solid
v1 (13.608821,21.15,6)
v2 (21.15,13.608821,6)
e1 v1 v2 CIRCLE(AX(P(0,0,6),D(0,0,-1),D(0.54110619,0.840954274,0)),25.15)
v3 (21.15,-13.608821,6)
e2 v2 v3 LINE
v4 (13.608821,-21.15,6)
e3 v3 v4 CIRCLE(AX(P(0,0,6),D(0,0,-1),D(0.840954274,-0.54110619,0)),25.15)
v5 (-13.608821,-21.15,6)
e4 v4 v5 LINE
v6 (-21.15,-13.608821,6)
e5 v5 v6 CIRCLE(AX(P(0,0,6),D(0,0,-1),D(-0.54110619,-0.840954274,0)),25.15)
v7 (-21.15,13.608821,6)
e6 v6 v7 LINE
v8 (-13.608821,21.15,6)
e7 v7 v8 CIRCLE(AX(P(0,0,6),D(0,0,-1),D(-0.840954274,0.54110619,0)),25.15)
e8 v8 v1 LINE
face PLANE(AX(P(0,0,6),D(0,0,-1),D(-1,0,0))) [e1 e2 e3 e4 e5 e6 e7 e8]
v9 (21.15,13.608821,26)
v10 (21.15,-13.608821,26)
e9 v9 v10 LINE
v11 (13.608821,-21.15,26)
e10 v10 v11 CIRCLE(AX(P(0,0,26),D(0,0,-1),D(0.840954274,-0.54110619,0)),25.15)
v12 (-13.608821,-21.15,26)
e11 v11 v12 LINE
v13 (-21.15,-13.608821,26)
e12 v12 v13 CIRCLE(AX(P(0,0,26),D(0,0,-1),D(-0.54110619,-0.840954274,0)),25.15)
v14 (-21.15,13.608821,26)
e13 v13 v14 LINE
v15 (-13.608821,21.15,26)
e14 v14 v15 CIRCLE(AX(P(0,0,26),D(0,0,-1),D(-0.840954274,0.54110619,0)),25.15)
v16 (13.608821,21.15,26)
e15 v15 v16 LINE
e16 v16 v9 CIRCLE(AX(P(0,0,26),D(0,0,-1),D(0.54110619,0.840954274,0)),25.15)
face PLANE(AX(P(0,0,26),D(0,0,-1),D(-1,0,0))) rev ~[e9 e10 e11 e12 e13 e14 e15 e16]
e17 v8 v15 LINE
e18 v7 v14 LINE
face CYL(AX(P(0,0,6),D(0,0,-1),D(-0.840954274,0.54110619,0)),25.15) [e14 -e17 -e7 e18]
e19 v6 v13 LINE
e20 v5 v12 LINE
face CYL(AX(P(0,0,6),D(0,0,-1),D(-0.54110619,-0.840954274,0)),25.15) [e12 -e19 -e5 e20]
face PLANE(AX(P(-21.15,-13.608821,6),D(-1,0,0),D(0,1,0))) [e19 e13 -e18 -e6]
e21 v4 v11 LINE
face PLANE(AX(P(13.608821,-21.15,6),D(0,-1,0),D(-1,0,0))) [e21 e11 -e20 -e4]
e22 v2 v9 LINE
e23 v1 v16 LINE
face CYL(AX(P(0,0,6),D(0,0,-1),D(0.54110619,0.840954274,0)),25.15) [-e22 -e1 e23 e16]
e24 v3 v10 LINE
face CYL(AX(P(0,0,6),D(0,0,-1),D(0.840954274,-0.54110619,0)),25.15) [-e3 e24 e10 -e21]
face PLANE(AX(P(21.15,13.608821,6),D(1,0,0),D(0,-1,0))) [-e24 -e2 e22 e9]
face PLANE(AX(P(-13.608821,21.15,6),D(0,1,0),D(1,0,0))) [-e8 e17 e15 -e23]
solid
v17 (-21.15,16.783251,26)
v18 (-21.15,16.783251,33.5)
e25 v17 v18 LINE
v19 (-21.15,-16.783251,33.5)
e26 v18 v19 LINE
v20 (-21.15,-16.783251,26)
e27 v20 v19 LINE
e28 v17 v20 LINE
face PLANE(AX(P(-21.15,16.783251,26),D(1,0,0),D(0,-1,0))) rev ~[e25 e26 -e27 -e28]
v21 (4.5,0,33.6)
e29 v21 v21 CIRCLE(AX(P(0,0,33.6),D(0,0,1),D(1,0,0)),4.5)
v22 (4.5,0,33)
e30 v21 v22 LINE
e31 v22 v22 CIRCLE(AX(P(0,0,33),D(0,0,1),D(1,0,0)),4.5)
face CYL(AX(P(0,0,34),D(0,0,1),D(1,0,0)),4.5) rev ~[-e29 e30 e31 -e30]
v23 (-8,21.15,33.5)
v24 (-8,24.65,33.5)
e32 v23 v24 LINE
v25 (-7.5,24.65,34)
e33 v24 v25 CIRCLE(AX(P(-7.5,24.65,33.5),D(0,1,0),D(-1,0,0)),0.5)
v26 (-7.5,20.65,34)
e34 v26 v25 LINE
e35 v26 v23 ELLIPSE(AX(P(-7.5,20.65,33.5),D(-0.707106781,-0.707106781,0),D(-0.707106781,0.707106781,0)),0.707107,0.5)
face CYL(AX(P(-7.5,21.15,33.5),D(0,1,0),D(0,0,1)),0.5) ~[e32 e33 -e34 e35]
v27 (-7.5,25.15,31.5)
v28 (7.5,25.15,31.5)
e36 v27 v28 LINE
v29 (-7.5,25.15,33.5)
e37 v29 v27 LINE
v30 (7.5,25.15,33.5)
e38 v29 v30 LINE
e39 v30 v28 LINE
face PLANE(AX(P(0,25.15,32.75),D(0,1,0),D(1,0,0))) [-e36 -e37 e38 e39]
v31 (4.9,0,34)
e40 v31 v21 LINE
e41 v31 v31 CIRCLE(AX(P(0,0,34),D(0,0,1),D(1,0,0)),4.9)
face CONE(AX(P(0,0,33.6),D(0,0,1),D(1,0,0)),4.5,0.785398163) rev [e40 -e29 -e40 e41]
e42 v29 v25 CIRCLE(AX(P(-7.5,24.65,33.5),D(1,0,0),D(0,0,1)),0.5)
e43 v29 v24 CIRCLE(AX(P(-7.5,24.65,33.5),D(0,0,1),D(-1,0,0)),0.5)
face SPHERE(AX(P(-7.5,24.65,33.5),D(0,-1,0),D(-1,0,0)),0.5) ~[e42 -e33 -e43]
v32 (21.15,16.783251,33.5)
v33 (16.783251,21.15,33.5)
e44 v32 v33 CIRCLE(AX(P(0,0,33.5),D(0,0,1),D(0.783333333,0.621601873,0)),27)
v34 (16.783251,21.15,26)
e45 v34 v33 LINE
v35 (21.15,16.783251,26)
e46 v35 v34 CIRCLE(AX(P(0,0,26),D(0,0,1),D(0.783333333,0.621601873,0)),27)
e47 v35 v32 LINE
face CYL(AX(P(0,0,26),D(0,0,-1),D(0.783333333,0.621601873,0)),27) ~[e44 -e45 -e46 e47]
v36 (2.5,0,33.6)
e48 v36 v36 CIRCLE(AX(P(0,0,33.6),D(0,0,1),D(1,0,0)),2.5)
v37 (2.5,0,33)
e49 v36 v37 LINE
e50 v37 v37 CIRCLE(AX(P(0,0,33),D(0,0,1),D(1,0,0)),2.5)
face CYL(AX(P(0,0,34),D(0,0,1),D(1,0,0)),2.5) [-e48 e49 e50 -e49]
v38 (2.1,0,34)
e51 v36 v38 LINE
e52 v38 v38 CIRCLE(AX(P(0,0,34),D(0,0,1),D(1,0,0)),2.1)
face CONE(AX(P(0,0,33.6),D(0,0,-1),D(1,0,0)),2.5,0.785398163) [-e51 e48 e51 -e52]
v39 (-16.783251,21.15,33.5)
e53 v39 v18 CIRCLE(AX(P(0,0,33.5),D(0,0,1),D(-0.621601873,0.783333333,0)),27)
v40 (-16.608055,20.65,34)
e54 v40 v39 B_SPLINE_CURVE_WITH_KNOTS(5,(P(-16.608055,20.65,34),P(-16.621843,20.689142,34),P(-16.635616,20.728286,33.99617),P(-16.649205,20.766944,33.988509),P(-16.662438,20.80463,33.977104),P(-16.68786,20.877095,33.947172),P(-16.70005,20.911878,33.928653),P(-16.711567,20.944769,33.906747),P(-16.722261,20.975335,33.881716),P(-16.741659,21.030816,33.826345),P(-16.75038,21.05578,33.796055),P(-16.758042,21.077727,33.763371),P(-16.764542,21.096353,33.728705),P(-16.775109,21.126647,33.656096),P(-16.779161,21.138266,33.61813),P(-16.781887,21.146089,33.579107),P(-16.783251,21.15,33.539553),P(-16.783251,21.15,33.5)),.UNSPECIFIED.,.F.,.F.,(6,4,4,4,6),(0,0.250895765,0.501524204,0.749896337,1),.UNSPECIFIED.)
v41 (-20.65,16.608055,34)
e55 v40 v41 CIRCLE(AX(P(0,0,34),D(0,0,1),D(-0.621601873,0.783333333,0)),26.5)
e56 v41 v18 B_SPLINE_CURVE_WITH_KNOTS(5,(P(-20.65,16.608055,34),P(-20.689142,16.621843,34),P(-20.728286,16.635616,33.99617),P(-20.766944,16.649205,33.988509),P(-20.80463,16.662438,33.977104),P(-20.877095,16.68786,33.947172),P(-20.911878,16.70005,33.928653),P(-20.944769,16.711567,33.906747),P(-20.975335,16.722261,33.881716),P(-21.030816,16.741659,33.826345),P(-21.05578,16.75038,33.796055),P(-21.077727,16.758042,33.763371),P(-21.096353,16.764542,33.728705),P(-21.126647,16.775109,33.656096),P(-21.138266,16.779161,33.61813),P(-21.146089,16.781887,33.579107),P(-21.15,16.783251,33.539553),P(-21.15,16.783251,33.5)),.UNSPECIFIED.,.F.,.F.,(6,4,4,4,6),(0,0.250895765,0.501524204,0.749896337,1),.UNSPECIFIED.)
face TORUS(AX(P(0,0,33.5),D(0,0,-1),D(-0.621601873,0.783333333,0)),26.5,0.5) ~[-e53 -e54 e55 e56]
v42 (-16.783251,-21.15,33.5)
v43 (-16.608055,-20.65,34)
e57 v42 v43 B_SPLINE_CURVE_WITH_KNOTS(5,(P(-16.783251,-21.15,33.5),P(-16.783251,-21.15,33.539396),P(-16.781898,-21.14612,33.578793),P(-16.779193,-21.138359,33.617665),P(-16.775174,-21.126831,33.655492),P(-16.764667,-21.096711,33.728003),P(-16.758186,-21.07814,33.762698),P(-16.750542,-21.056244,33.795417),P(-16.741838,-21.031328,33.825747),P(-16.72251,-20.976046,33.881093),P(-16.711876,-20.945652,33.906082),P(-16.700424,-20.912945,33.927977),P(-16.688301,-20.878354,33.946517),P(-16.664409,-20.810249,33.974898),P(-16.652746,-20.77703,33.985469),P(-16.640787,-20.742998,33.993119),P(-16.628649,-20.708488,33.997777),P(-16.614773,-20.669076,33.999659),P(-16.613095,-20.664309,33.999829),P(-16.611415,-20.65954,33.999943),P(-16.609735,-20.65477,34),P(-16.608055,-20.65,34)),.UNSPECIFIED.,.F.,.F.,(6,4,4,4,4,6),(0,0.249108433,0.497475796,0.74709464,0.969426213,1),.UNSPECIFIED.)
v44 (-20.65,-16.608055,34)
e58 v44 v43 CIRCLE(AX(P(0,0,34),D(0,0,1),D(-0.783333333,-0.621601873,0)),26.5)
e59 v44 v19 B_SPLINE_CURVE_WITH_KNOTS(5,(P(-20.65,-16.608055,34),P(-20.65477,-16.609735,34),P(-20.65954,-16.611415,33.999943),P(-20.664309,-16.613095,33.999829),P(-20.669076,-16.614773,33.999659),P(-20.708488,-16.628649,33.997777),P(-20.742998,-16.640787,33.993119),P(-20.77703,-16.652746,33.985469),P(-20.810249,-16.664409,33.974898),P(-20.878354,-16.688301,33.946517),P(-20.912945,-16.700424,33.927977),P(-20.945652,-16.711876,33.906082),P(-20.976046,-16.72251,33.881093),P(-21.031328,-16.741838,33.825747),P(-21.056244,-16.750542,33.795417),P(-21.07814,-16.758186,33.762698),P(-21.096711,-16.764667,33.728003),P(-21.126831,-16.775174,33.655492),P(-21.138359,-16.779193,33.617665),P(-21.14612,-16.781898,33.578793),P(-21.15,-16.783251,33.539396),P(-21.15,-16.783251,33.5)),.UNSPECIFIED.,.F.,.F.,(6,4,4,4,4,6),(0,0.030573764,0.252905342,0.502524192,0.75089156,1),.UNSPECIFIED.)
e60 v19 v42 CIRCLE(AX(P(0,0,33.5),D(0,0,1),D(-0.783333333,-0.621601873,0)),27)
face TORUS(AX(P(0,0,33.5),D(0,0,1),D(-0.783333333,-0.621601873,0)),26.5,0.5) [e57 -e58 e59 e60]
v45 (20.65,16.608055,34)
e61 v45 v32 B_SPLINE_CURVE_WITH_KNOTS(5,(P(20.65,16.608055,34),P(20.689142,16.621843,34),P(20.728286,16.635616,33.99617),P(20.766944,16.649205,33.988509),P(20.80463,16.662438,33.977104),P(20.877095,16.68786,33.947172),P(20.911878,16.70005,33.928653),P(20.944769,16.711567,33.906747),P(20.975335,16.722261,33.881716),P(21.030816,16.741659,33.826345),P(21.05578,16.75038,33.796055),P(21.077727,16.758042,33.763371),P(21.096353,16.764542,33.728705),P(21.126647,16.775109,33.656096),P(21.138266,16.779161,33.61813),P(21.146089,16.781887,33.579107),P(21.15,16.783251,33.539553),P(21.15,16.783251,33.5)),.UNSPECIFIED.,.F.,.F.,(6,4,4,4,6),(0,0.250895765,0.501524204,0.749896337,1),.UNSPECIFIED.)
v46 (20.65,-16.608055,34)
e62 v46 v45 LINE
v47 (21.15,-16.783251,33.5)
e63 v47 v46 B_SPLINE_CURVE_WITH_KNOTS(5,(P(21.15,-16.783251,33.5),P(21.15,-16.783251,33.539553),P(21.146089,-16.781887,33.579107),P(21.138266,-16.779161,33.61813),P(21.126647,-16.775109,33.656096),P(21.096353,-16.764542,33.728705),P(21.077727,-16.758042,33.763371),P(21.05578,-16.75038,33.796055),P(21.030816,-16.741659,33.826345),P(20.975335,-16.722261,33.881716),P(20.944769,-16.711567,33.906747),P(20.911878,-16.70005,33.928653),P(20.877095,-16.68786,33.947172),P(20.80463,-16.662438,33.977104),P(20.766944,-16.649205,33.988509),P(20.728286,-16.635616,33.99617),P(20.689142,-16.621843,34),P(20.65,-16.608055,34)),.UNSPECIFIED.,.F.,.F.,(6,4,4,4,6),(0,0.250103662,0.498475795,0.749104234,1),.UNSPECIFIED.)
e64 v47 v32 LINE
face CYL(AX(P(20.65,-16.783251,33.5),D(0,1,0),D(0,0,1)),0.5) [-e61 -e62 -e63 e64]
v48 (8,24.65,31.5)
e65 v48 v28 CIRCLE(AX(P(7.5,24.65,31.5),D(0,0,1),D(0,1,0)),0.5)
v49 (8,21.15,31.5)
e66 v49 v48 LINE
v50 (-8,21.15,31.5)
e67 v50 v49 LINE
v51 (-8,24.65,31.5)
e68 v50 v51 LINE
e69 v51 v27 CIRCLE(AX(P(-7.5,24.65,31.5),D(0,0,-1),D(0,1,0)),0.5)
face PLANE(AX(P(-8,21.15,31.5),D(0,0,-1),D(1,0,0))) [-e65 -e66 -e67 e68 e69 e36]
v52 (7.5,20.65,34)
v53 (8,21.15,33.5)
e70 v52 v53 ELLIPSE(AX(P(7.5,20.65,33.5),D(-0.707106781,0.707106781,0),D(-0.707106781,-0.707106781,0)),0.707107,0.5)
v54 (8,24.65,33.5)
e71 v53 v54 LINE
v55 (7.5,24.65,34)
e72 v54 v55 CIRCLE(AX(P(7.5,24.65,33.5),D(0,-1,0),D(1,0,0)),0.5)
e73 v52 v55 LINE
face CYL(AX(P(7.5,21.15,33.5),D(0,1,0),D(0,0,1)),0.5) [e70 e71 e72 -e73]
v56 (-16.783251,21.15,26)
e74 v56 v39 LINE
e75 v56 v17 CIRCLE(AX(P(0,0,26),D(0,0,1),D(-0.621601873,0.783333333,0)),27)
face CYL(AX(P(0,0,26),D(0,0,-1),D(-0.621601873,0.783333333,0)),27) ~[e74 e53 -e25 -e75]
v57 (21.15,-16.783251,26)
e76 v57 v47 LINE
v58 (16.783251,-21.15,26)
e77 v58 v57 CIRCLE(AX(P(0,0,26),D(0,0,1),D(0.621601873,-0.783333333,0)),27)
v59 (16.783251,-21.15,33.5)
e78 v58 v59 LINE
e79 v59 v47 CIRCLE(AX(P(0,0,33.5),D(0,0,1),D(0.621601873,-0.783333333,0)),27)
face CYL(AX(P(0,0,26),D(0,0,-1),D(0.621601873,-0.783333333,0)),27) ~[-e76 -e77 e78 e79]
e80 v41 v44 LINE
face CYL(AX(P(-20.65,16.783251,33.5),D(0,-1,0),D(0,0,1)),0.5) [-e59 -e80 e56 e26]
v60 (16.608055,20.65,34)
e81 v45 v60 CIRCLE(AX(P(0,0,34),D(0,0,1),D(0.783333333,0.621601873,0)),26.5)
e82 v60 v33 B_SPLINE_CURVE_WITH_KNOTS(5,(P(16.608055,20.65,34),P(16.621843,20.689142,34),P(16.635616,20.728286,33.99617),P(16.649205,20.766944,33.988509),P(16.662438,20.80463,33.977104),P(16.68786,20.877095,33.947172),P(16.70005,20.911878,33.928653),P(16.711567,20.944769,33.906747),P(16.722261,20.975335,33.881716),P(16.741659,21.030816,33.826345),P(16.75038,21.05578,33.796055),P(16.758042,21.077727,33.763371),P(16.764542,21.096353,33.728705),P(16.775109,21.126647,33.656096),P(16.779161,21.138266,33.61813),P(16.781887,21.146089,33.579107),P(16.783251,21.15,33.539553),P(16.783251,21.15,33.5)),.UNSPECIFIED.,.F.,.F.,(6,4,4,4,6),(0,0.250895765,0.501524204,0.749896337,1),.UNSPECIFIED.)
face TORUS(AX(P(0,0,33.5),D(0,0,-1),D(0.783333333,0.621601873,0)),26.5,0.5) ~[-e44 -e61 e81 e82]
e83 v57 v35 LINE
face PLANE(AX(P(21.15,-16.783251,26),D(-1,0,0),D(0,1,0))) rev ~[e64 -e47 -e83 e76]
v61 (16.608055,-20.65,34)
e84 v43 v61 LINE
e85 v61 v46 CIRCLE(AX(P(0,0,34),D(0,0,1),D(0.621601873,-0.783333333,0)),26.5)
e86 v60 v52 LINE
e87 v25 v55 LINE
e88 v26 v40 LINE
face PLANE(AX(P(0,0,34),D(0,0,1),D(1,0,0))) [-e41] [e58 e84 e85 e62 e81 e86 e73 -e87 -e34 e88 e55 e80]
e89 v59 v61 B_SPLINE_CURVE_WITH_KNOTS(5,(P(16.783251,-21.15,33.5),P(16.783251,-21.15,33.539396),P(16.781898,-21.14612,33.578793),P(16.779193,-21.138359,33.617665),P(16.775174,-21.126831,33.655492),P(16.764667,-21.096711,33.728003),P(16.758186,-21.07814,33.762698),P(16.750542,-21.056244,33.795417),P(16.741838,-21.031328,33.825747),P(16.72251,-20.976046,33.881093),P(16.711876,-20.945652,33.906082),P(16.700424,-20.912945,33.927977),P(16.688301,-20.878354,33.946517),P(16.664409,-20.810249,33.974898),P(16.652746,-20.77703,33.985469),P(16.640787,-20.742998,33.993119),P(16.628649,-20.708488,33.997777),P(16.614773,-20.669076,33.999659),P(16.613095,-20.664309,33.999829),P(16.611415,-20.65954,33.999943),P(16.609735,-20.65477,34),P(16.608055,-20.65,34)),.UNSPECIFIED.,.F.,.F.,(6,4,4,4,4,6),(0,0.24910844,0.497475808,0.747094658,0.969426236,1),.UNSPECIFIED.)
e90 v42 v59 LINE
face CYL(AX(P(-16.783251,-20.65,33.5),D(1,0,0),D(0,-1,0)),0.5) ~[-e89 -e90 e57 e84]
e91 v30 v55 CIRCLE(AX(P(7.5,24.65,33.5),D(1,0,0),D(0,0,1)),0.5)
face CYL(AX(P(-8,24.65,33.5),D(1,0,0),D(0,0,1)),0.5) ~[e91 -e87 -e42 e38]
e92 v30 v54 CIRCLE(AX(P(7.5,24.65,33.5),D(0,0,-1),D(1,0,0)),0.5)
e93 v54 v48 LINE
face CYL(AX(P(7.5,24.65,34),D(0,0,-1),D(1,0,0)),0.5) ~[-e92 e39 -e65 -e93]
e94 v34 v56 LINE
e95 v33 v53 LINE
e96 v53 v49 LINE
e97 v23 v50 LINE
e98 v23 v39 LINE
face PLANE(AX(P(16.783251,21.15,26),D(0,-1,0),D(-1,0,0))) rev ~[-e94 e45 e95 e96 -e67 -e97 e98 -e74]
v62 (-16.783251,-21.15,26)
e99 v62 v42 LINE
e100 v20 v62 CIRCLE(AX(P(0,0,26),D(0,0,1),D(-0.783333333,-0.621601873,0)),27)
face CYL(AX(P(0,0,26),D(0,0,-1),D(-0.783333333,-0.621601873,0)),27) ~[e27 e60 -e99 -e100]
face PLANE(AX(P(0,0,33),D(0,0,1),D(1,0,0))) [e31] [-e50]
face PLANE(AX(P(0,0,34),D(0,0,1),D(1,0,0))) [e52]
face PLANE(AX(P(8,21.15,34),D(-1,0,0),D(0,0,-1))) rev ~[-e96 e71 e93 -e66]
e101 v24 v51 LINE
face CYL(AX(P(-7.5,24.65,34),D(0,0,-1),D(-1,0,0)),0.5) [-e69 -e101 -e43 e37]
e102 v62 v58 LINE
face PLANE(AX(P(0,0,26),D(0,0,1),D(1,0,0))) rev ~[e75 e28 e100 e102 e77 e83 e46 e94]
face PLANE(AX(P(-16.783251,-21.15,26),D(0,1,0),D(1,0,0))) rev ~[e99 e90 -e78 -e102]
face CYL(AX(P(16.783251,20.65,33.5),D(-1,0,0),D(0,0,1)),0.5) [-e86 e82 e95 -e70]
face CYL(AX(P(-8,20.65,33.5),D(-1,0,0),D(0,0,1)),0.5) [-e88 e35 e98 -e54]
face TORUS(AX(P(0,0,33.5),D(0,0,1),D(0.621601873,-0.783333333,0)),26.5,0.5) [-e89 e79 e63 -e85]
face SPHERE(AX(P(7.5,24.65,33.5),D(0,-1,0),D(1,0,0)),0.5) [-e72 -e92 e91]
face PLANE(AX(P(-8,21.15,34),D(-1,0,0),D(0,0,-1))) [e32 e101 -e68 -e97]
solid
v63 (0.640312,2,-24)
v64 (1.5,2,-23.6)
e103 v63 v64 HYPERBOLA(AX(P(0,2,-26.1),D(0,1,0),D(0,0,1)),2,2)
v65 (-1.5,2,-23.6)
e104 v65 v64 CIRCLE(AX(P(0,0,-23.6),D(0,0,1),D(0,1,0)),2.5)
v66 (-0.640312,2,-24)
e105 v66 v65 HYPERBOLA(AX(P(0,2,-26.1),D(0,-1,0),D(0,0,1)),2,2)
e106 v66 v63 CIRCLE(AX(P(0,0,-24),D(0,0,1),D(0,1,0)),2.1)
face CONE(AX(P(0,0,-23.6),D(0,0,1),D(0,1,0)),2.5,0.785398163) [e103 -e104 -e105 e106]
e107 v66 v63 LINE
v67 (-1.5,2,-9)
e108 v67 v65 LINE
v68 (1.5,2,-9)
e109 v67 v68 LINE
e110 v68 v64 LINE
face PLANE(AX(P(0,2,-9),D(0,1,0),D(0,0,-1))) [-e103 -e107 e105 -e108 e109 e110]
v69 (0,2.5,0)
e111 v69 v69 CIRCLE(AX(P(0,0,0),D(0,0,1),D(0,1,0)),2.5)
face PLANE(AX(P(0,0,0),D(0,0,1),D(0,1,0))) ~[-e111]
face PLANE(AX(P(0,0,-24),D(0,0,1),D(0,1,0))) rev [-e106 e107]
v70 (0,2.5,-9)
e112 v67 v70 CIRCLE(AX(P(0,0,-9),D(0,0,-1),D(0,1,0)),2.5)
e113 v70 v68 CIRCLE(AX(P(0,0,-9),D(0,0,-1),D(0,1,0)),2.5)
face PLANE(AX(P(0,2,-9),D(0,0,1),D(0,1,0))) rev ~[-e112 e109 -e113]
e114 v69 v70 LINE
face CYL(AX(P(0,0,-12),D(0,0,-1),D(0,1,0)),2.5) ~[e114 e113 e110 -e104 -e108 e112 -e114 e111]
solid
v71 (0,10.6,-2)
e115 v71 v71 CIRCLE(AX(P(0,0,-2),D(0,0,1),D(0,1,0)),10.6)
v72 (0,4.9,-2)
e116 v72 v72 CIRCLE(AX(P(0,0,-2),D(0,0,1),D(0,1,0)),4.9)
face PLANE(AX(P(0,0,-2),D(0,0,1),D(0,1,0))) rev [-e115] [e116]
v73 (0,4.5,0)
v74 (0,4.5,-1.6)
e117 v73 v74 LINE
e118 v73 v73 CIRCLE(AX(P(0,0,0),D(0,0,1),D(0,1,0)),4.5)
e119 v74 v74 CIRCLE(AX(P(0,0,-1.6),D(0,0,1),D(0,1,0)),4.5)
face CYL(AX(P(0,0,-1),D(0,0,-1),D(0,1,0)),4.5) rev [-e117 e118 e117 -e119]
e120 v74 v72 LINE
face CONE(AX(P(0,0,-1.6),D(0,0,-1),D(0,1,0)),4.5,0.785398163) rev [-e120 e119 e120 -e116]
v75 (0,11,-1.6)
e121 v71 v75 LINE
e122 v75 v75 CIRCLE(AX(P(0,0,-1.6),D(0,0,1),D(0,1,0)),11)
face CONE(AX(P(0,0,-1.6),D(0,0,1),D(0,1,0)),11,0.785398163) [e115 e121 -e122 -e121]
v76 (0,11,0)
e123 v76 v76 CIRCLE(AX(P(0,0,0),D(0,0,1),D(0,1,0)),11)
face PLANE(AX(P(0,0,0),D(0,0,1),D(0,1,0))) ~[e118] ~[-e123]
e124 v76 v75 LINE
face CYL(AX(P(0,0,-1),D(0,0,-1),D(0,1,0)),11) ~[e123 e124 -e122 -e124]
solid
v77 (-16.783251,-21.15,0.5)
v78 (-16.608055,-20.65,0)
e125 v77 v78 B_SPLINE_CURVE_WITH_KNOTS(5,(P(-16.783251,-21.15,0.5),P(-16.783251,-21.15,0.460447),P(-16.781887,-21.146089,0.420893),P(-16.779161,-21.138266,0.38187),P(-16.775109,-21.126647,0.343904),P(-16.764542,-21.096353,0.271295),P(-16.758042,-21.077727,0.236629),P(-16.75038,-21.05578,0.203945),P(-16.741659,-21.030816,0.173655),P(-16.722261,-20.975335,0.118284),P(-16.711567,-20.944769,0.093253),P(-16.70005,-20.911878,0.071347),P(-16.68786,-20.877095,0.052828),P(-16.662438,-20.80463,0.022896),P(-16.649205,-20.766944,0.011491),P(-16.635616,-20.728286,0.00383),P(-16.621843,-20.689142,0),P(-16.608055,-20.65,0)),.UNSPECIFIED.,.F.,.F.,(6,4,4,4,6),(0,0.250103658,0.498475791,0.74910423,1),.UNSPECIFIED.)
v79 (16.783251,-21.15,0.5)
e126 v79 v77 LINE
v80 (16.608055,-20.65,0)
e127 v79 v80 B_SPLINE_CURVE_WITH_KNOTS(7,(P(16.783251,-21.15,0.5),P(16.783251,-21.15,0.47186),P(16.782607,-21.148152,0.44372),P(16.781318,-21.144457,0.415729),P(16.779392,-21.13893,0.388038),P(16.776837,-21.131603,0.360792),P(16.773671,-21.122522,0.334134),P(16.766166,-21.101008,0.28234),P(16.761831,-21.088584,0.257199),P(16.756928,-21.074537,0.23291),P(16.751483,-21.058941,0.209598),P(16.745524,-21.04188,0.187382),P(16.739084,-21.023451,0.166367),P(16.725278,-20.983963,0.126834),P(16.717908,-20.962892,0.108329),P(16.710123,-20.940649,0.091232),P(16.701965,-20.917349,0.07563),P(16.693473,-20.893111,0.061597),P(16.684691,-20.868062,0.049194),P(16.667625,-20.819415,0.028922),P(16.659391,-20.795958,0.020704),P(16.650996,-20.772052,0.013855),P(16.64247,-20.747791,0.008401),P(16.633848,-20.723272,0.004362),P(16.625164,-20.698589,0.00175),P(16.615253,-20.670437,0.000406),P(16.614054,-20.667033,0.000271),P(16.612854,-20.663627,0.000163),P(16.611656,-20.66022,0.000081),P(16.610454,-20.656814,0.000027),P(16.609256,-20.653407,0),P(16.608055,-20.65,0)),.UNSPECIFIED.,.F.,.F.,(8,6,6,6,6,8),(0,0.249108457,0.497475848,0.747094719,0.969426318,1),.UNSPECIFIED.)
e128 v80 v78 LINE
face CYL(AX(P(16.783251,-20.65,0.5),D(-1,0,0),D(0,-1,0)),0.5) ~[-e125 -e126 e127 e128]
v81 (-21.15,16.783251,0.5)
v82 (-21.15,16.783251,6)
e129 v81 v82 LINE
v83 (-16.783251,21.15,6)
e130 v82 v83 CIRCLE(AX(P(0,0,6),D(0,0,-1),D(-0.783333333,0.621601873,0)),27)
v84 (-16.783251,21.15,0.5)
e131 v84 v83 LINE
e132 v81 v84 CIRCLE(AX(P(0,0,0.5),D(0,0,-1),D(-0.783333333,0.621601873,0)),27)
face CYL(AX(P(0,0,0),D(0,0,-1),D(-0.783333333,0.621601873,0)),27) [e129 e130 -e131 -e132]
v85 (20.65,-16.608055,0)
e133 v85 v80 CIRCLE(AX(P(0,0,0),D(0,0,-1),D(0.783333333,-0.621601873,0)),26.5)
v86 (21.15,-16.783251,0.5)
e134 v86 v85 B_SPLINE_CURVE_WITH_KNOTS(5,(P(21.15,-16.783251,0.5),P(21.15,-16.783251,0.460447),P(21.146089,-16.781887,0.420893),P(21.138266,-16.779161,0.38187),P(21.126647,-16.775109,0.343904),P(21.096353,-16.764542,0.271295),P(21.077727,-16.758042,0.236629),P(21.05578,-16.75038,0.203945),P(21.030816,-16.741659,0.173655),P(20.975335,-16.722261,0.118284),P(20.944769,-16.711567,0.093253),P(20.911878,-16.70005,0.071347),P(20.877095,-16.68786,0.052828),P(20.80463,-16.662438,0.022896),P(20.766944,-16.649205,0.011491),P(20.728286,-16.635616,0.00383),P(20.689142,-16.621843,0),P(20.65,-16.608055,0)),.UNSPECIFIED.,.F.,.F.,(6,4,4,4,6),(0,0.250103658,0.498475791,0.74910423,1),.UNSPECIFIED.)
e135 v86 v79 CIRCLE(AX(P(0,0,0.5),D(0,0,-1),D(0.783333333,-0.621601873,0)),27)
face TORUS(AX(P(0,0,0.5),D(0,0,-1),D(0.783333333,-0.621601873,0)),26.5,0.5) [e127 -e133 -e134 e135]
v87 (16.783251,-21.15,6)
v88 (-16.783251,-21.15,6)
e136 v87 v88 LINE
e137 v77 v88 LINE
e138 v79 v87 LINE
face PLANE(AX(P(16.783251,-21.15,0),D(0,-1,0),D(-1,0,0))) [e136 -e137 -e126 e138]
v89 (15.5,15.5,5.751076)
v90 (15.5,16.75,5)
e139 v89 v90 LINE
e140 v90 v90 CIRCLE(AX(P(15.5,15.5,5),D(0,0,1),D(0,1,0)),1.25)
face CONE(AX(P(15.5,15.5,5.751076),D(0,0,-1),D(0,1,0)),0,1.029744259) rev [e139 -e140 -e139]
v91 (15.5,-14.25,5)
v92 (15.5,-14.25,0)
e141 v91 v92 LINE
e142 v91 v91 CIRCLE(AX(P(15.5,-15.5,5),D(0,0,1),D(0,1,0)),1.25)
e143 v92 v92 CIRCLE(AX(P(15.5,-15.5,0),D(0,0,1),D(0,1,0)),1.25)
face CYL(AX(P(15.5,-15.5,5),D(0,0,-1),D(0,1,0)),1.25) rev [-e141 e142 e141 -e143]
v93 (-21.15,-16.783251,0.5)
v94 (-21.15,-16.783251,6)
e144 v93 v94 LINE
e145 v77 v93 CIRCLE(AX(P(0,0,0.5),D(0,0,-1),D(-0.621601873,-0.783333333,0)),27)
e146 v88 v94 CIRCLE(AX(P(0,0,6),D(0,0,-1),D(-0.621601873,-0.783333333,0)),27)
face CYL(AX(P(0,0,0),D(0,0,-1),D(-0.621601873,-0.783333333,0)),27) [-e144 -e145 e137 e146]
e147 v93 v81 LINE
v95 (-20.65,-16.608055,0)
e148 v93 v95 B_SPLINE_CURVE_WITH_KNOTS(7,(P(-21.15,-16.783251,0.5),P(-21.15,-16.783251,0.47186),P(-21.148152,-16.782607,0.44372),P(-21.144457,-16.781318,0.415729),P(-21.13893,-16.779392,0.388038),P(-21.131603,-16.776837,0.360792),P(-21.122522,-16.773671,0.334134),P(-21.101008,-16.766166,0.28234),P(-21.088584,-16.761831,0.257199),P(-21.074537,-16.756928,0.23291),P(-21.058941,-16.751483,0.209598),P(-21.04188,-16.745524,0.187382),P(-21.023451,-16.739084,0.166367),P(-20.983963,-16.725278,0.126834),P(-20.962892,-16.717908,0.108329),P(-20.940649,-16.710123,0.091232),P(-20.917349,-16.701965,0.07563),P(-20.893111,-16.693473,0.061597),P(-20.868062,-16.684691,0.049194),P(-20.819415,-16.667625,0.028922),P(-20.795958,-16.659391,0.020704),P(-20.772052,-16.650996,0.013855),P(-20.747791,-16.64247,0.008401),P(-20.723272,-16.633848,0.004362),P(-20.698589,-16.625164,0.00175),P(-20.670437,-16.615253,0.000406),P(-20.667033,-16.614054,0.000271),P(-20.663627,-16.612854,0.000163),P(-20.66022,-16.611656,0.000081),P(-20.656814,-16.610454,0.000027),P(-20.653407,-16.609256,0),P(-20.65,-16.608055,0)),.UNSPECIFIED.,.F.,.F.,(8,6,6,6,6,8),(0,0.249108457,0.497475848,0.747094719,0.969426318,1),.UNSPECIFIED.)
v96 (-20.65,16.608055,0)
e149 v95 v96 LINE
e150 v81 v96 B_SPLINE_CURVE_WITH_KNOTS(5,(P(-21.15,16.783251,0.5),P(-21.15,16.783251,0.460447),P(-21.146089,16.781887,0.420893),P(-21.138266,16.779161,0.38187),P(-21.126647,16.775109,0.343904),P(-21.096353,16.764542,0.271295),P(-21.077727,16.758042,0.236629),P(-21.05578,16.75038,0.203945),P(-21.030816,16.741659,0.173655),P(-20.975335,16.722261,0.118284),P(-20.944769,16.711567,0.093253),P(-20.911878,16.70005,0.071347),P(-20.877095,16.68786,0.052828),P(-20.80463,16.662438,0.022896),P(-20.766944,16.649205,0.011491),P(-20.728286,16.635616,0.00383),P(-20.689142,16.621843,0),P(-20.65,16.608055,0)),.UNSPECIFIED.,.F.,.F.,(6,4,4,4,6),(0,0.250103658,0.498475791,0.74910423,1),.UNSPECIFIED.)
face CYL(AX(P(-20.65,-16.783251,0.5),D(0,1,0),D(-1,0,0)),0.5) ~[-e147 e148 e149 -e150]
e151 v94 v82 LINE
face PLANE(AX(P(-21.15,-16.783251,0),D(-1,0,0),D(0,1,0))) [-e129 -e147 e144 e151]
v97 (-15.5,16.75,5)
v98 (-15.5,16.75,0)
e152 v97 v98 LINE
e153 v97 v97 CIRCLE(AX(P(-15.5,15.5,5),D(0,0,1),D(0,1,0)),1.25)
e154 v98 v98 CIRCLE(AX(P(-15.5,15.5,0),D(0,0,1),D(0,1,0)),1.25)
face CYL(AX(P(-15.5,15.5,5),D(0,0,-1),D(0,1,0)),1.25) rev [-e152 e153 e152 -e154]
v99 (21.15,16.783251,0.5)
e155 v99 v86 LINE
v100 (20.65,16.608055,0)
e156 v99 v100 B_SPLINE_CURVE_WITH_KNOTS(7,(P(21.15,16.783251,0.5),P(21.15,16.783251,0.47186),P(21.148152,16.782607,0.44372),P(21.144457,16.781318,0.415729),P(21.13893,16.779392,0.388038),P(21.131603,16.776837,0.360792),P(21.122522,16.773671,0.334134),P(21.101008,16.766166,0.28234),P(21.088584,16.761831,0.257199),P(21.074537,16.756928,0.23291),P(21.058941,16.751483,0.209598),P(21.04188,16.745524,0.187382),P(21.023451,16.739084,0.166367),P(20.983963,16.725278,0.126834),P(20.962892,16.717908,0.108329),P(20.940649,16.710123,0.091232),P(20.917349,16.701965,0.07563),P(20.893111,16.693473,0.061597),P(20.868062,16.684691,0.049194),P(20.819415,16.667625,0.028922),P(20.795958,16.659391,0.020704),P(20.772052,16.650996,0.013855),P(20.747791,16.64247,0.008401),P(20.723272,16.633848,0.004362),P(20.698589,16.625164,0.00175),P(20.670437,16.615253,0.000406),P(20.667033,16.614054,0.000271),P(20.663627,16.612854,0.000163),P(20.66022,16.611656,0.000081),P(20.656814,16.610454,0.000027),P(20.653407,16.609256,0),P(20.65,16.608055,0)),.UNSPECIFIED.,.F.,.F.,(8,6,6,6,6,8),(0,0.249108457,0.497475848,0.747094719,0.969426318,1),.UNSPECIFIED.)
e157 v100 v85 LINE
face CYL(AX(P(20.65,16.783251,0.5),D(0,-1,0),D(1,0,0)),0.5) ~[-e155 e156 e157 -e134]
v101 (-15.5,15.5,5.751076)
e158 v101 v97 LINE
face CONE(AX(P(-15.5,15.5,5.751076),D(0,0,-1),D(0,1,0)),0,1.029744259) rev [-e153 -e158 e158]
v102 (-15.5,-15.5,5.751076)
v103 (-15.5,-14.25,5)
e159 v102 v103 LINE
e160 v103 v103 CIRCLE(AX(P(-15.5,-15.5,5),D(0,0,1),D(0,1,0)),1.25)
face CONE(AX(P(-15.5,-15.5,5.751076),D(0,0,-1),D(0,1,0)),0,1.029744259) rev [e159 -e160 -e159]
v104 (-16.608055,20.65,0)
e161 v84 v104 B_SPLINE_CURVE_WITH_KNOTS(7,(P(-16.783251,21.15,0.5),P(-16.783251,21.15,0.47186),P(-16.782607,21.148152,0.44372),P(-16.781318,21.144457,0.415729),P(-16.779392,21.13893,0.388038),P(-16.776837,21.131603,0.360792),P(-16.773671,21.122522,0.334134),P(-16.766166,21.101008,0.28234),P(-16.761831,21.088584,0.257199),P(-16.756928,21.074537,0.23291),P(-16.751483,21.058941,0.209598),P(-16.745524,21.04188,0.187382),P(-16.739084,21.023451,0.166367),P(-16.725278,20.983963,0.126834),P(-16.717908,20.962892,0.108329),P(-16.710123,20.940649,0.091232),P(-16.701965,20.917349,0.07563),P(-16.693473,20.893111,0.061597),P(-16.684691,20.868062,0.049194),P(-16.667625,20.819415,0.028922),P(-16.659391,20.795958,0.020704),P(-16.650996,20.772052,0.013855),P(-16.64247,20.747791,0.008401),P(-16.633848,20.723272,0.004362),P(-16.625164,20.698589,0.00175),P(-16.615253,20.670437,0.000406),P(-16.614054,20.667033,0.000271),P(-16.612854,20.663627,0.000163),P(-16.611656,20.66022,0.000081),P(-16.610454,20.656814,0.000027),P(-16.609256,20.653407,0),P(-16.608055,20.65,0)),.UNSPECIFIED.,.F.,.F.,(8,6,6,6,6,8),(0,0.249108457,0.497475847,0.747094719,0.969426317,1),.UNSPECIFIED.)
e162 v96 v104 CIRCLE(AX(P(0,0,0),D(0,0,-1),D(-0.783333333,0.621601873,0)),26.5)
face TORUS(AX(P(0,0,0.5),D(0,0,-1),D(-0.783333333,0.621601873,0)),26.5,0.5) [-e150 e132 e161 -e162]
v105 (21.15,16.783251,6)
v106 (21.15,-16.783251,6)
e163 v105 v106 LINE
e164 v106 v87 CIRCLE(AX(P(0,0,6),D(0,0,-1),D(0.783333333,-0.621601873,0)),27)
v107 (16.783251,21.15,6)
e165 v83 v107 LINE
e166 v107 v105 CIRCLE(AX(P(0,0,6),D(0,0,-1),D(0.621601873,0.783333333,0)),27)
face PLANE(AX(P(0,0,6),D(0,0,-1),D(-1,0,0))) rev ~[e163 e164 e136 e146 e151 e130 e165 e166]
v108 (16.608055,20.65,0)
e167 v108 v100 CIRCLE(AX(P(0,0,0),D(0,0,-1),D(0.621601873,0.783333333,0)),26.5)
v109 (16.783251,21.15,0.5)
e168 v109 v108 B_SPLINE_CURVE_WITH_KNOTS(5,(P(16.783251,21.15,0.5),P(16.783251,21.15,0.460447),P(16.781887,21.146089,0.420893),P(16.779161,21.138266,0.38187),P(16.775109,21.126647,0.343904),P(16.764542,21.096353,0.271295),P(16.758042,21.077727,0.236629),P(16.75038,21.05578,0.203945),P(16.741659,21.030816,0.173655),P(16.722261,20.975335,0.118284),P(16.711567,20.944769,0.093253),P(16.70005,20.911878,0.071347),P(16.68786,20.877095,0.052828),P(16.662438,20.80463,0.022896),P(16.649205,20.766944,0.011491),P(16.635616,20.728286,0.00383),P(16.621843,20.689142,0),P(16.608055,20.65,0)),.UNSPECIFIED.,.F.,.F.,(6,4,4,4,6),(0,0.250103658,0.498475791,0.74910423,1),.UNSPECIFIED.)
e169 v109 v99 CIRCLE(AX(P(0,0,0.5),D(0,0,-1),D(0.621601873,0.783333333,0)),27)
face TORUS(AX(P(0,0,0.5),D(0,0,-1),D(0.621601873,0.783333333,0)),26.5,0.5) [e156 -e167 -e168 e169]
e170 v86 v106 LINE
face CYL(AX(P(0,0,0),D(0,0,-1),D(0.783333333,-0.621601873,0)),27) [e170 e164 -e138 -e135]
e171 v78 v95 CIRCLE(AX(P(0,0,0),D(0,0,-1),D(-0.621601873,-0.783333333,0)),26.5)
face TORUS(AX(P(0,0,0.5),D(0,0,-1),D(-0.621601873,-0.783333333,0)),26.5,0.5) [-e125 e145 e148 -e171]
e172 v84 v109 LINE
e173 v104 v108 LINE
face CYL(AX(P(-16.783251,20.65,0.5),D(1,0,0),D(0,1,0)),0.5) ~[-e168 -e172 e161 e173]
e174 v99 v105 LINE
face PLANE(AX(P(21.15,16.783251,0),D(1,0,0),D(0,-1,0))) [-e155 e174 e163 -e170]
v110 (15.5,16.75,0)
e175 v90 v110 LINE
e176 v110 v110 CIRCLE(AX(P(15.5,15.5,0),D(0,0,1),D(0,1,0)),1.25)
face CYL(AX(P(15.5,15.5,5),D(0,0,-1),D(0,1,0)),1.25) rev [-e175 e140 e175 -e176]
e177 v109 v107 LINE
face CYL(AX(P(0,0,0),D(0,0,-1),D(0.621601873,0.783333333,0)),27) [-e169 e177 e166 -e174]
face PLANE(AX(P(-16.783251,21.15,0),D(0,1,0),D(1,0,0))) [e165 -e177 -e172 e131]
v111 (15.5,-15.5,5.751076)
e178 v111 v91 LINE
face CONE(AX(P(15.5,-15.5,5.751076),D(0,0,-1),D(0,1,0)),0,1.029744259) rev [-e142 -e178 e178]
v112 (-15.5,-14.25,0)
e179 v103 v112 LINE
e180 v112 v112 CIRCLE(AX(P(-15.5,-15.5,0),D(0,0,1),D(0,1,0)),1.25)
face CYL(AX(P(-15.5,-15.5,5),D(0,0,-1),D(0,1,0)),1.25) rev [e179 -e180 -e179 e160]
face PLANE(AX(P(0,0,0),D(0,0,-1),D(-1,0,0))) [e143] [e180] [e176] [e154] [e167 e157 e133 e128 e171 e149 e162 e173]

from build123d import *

# Parameters (mm, degrees)
BOSS_EXTRU_1_DEPTH           = 6
BOSS_EXTRU_2_DEPTH           = 20
BOSS_EXTRU_3_DEPTH           = 8
ESQUISSE4_W                  = 16
ESQUISSE4_H                  = 2.5
BOSS_EXTRU_4_DEPTH           = 4
ESQUISSE5_W                  = 2
ESQUISSE5_H                  = 6.5
ESQUISSE5_W_2                = 24
ESQUISSE5_H_2                = 2.5
CONG_1_R                     = 0.5
CONG_2_R                     = 0.5
CHANFREIN1_SIZE              = 0.4
CHANFREIN2_SIZE              = 0.4
ESQUISSE6_W                  = 15
ESQUISSE6_H                  = 0.5
ENL_V_MAT_EXTRU_1_DEPTH      = 22.1500001
ENL_V_MAT_EXTRU_1_DEPTH_BACK = 22.1500001
ESQUISSE7_R                  = 4.5
ESQUISSE7_R_2                = 2.5
ENL_V_MAT_EXTRU_2_DEPTH      = 1
CHANFREIN3_SIZE              = 0.4
TROU_TARAUD_M31_AT_2_COUNT   = 2
TROU_TARAUD_M31_AT_2_PITCH   = 31
TROU_TARAUD_M31_AT_3_COUNT   = 2
TROU_TARAUD_M31_AT_3_PITCH   = 43.840620434
TROU_TARAUD_M31_AT_4_COUNT   = 2
TROU_TARAUD_M31_AT_4_PITCH   = 31


with BuildPart() as part:
    # Esquisse1 → Boss.-Extru.1 (new body)
    with BuildSketch(Plane.XY):
        with BuildLine():
            Line((21.15, 16.783250579), (21.15, -16.783250579))
            ThreePointArc((21.15, -16.783250579), (19.091883092, -19.091883092), (16.783250579, -21.15))
            Line((16.783250579, -21.15), (-16.783250579, -21.15))
            ThreePointArc((-16.783250579, -21.15), (-19.091883092, -19.091883092), (-21.15, -16.783250579))
            Line((-21.15, -16.783250579), (-21.15, 16.783250579))
            ThreePointArc((-21.15, 16.783250579), (-19.091883092, 19.091883092), (-16.783250579, 21.15))
            Line((-16.783250579, 21.15), (16.783250579, 21.15))
            ThreePointArc((16.783250579, 21.15), (19.091883092, 19.091883092), (21.15, 16.783250579))
        make_face()
    extrude(amount=BOSS_EXTRU_1_DEPTH)

    # Congé2
    cong_2_edges = [part.edges().sort_by_distance(p)[0] for p in [
        (0, 21.15, 0),
        (19.091883092, 19.091883092, 0),
        (21.15, 0, 0),
        (19.091883092, -19.091883092, 0),
        (0, -21.15, 0),
        (-19.091883092, -19.091883092, 0),
        (-21.15, 0, 0),
        (-19.091883092, 19.091883092, 0),
    ]]
    fillet(cong_2_edges, radius=CONG_2_R)

    # Esquisse9 → Trou taraudé M31 (revolve, cut)
    with BuildSketch(Plane(origin=(15.5, -15.5, 0), x_dir=(0, 1, 0), z_dir=(1, 0, 0))):
        Polygon((0, 0), (0, 5.751075774), (1.25, 5), (1.25, 0), align=None)
    trou_taraud_m31 = revolve(axis=Axis((15.5, -15.5, -6.35), (0, 0, 1)), mode=Mode.SUBTRACT)

    # Trou taraudé M31 at 2: Trou taraudé M31 ×2
    with Locations(*[(0, i * TROU_TARAUD_M31_AT_2_PITCH, 0) for i in range(1, TROU_TARAUD_M31_AT_2_COUNT)]):
        add(trou_taraud_m31, mode=Mode.SUBTRACT)

    # Trou taraudé M31 at 3: Trou taraudé M31 ×2
    with Locations(*[Vector(-0.707106781, 0.707106781, 0) * (i * TROU_TARAUD_M31_AT_3_PITCH) for i in range(1, TROU_TARAUD_M31_AT_3_COUNT)]):
        add(trou_taraud_m31, mode=Mode.SUBTRACT)

    # Trou taraudé M31 at 4: Trou taraudé M31 ×2
    with Locations(*[(-i * TROU_TARAUD_M31_AT_4_PITCH, 0, 0) for i in range(1, TROU_TARAUD_M31_AT_4_COUNT)]):
        add(trou_taraud_m31, mode=Mode.SUBTRACT)


with BuildPart() as body_2:
    # Esquisse2 → Boss.-Extru.2 (new body)
    with BuildSketch(Plane.XY.offset(6)):
        with BuildLine():
            Line((-13.608820669, 21.15), (13.608820669, 21.15))
            ThreePointArc((13.608820669, 21.15), (17.783735547, 17.783735547), (21.15, 13.608820669))
            Line((21.15, 13.608820669), (21.15, -13.608820669))
            ThreePointArc((21.15, -13.608820669), (17.783735547, -17.783735547), (13.608820669, -21.15))
            Line((13.608820669, -21.15), (-13.608820669, -21.15))
            ThreePointArc((-13.608820669, -21.15), (-17.783735547, -17.783735547), (-21.15, -13.608820669))
            Line((-21.15, -13.608820669), (-21.15, 13.608820669))
            ThreePointArc((-21.15, 13.608820669), (-17.783735547, 17.783735547), (-13.608820669, 21.15))
        make_face()
    extrude(amount=BOSS_EXTRU_2_DEPTH)


with BuildPart() as body_3:
    # Esquisse3 → Boss.-Extru.3 (new body)
    with BuildSketch(Plane.XY.offset(26)):
        with BuildLine():
            Line((-16.783250579, -21.15), (16.783250579, -21.15))
            ThreePointArc((16.783250579, -21.15), (19.091883092, -19.091883092), (21.15, -16.783250579))
            Line((21.15, -16.783250579), (21.15, 16.783250579))
            ThreePointArc((21.15, 16.783250579), (19.091883092, 19.091883092), (16.783250579, 21.15))
            Line((16.783250579, 21.15), (-16.783250579, 21.15))
            ThreePointArc((-16.783250579, 21.15), (-19.091883092, 19.091883092), (-21.15, 16.783250579))
            Line((-21.15, 16.783250579), (-21.15, -16.783250579))
            ThreePointArc((-21.15, -16.783250579), (-19.091883092, -19.091883092), (-16.783250579, -21.15))
        make_face()
    extrude(amount=BOSS_EXTRU_3_DEPTH)

    # Esquisse4 → Boss.-Extru.4 (add)
    with BuildSketch(Plane(origin=(0, 21.15, 0), x_dir=(1, 0, 0), z_dir=(0, 1, 0))):
        with Locations((0, -32.75)):
            Rectangle(ESQUISSE4_W, ESQUISSE4_H)
    extrude(amount=BOSS_EXTRU_4_DEPTH)

    # Congé1
    cong_1_edges = [body_3.edges().sort_by_distance(p)[0] for p in [
        (19.091883092, -19.091883092, 34),
        (21.15, 0, 34),
        (19.091883092, 19.091883092, 34),
        (12.39162529, 21.15, 34),
        (-19.091883092, 19.091883092, 34),
        (-12.39162529, 21.15, 34),
        (-21.15, 0, 34),
        (8, 23.15, 34),
        (-8, 23.15, 34),
        (8, 25.15, 32.75),
        (-8, 25.15, 32.75),
        (0, 25.15, 34),
        (-19.091883092, -19.091883092, 34),
        (0, -21.15, 34),
    ]]
    fillet(cong_1_edges, radius=CONG_1_R)

    # Esquisse7 → Enlèv. mat.-Extru.2 (cut)
    with BuildSketch(Plane.XY.offset(34)):
        Circle(ESQUISSE7_R)
        Circle(ESQUISSE7_R_2, mode=Mode.SUBTRACT)
    extrude(amount=-ENL_V_MAT_EXTRU_2_DEPTH, mode=Mode.SUBTRACT)

    # Chanfrein3
    chanfrein3_edges = [body_3.edges().sort_by_distance(p)[0] for p in [
        (-4.5, 0, 34),
        (-2.5, 0, 34),
    ]]
    chamfer(chanfrein3_edges, length=CHANFREIN3_SIZE)


with BuildPart() as body_4:
    # Esquisse5 → Révolution1 (revolve)
    with BuildSketch(Plane(origin=(0, 0, 0), x_dir=(0, 0, -1), z_dir=(1, 0, 0))):
        with Locations((1, 7.75)):
            Rectangle(ESQUISSE5_W, ESQUISSE5_H)
        with Locations((12, 1.25)):
            Rectangle(ESQUISSE5_W_2, ESQUISSE5_H_2)
    revolve(axis=Axis((0, 0, 0), (0, 0, 1)))

    # Chanfrein1
    chanfrein1_edges = [body_4.edges().sort_by_distance(p)[0] for p in [
        (0, -2.5, -24),
    ]]
    chamfer(chanfrein1_edges, length=CHANFREIN1_SIZE)

    # Chanfrein2
    chanfrein2_edges = [body_4.edges().sort_by_distance(p)[0] for p in [
        (0, -11, -2),
        (0, -4.5, -2),
    ]]
    chamfer(chanfrein2_edges, length=CHANFREIN2_SIZE)

    # Esquisse6 → Enlèv. mat.-Extru.1 (cut, two sides)
    with BuildSketch(Plane(origin=(0, 0, 0), x_dir=(0, 0, -1), z_dir=(1, 0, 0))) as enl_v_mat_extru_1_sk:
        with Locations((16.5, 2.25)):
            Rectangle(ESQUISSE6_W, ESQUISSE6_H)
    extrude(amount=ENL_V_MAT_EXTRU_1_DEPTH, mode=Mode.SUBTRACT)
    extrude(enl_v_mat_extru_1_sk.sketch, amount=-ENL_V_MAT_EXTRU_1_DEPTH_BACK, mode=Mode.SUBTRACT)


solid = Compound([part.part, body_2.part, body_3.part, body_4.part])
